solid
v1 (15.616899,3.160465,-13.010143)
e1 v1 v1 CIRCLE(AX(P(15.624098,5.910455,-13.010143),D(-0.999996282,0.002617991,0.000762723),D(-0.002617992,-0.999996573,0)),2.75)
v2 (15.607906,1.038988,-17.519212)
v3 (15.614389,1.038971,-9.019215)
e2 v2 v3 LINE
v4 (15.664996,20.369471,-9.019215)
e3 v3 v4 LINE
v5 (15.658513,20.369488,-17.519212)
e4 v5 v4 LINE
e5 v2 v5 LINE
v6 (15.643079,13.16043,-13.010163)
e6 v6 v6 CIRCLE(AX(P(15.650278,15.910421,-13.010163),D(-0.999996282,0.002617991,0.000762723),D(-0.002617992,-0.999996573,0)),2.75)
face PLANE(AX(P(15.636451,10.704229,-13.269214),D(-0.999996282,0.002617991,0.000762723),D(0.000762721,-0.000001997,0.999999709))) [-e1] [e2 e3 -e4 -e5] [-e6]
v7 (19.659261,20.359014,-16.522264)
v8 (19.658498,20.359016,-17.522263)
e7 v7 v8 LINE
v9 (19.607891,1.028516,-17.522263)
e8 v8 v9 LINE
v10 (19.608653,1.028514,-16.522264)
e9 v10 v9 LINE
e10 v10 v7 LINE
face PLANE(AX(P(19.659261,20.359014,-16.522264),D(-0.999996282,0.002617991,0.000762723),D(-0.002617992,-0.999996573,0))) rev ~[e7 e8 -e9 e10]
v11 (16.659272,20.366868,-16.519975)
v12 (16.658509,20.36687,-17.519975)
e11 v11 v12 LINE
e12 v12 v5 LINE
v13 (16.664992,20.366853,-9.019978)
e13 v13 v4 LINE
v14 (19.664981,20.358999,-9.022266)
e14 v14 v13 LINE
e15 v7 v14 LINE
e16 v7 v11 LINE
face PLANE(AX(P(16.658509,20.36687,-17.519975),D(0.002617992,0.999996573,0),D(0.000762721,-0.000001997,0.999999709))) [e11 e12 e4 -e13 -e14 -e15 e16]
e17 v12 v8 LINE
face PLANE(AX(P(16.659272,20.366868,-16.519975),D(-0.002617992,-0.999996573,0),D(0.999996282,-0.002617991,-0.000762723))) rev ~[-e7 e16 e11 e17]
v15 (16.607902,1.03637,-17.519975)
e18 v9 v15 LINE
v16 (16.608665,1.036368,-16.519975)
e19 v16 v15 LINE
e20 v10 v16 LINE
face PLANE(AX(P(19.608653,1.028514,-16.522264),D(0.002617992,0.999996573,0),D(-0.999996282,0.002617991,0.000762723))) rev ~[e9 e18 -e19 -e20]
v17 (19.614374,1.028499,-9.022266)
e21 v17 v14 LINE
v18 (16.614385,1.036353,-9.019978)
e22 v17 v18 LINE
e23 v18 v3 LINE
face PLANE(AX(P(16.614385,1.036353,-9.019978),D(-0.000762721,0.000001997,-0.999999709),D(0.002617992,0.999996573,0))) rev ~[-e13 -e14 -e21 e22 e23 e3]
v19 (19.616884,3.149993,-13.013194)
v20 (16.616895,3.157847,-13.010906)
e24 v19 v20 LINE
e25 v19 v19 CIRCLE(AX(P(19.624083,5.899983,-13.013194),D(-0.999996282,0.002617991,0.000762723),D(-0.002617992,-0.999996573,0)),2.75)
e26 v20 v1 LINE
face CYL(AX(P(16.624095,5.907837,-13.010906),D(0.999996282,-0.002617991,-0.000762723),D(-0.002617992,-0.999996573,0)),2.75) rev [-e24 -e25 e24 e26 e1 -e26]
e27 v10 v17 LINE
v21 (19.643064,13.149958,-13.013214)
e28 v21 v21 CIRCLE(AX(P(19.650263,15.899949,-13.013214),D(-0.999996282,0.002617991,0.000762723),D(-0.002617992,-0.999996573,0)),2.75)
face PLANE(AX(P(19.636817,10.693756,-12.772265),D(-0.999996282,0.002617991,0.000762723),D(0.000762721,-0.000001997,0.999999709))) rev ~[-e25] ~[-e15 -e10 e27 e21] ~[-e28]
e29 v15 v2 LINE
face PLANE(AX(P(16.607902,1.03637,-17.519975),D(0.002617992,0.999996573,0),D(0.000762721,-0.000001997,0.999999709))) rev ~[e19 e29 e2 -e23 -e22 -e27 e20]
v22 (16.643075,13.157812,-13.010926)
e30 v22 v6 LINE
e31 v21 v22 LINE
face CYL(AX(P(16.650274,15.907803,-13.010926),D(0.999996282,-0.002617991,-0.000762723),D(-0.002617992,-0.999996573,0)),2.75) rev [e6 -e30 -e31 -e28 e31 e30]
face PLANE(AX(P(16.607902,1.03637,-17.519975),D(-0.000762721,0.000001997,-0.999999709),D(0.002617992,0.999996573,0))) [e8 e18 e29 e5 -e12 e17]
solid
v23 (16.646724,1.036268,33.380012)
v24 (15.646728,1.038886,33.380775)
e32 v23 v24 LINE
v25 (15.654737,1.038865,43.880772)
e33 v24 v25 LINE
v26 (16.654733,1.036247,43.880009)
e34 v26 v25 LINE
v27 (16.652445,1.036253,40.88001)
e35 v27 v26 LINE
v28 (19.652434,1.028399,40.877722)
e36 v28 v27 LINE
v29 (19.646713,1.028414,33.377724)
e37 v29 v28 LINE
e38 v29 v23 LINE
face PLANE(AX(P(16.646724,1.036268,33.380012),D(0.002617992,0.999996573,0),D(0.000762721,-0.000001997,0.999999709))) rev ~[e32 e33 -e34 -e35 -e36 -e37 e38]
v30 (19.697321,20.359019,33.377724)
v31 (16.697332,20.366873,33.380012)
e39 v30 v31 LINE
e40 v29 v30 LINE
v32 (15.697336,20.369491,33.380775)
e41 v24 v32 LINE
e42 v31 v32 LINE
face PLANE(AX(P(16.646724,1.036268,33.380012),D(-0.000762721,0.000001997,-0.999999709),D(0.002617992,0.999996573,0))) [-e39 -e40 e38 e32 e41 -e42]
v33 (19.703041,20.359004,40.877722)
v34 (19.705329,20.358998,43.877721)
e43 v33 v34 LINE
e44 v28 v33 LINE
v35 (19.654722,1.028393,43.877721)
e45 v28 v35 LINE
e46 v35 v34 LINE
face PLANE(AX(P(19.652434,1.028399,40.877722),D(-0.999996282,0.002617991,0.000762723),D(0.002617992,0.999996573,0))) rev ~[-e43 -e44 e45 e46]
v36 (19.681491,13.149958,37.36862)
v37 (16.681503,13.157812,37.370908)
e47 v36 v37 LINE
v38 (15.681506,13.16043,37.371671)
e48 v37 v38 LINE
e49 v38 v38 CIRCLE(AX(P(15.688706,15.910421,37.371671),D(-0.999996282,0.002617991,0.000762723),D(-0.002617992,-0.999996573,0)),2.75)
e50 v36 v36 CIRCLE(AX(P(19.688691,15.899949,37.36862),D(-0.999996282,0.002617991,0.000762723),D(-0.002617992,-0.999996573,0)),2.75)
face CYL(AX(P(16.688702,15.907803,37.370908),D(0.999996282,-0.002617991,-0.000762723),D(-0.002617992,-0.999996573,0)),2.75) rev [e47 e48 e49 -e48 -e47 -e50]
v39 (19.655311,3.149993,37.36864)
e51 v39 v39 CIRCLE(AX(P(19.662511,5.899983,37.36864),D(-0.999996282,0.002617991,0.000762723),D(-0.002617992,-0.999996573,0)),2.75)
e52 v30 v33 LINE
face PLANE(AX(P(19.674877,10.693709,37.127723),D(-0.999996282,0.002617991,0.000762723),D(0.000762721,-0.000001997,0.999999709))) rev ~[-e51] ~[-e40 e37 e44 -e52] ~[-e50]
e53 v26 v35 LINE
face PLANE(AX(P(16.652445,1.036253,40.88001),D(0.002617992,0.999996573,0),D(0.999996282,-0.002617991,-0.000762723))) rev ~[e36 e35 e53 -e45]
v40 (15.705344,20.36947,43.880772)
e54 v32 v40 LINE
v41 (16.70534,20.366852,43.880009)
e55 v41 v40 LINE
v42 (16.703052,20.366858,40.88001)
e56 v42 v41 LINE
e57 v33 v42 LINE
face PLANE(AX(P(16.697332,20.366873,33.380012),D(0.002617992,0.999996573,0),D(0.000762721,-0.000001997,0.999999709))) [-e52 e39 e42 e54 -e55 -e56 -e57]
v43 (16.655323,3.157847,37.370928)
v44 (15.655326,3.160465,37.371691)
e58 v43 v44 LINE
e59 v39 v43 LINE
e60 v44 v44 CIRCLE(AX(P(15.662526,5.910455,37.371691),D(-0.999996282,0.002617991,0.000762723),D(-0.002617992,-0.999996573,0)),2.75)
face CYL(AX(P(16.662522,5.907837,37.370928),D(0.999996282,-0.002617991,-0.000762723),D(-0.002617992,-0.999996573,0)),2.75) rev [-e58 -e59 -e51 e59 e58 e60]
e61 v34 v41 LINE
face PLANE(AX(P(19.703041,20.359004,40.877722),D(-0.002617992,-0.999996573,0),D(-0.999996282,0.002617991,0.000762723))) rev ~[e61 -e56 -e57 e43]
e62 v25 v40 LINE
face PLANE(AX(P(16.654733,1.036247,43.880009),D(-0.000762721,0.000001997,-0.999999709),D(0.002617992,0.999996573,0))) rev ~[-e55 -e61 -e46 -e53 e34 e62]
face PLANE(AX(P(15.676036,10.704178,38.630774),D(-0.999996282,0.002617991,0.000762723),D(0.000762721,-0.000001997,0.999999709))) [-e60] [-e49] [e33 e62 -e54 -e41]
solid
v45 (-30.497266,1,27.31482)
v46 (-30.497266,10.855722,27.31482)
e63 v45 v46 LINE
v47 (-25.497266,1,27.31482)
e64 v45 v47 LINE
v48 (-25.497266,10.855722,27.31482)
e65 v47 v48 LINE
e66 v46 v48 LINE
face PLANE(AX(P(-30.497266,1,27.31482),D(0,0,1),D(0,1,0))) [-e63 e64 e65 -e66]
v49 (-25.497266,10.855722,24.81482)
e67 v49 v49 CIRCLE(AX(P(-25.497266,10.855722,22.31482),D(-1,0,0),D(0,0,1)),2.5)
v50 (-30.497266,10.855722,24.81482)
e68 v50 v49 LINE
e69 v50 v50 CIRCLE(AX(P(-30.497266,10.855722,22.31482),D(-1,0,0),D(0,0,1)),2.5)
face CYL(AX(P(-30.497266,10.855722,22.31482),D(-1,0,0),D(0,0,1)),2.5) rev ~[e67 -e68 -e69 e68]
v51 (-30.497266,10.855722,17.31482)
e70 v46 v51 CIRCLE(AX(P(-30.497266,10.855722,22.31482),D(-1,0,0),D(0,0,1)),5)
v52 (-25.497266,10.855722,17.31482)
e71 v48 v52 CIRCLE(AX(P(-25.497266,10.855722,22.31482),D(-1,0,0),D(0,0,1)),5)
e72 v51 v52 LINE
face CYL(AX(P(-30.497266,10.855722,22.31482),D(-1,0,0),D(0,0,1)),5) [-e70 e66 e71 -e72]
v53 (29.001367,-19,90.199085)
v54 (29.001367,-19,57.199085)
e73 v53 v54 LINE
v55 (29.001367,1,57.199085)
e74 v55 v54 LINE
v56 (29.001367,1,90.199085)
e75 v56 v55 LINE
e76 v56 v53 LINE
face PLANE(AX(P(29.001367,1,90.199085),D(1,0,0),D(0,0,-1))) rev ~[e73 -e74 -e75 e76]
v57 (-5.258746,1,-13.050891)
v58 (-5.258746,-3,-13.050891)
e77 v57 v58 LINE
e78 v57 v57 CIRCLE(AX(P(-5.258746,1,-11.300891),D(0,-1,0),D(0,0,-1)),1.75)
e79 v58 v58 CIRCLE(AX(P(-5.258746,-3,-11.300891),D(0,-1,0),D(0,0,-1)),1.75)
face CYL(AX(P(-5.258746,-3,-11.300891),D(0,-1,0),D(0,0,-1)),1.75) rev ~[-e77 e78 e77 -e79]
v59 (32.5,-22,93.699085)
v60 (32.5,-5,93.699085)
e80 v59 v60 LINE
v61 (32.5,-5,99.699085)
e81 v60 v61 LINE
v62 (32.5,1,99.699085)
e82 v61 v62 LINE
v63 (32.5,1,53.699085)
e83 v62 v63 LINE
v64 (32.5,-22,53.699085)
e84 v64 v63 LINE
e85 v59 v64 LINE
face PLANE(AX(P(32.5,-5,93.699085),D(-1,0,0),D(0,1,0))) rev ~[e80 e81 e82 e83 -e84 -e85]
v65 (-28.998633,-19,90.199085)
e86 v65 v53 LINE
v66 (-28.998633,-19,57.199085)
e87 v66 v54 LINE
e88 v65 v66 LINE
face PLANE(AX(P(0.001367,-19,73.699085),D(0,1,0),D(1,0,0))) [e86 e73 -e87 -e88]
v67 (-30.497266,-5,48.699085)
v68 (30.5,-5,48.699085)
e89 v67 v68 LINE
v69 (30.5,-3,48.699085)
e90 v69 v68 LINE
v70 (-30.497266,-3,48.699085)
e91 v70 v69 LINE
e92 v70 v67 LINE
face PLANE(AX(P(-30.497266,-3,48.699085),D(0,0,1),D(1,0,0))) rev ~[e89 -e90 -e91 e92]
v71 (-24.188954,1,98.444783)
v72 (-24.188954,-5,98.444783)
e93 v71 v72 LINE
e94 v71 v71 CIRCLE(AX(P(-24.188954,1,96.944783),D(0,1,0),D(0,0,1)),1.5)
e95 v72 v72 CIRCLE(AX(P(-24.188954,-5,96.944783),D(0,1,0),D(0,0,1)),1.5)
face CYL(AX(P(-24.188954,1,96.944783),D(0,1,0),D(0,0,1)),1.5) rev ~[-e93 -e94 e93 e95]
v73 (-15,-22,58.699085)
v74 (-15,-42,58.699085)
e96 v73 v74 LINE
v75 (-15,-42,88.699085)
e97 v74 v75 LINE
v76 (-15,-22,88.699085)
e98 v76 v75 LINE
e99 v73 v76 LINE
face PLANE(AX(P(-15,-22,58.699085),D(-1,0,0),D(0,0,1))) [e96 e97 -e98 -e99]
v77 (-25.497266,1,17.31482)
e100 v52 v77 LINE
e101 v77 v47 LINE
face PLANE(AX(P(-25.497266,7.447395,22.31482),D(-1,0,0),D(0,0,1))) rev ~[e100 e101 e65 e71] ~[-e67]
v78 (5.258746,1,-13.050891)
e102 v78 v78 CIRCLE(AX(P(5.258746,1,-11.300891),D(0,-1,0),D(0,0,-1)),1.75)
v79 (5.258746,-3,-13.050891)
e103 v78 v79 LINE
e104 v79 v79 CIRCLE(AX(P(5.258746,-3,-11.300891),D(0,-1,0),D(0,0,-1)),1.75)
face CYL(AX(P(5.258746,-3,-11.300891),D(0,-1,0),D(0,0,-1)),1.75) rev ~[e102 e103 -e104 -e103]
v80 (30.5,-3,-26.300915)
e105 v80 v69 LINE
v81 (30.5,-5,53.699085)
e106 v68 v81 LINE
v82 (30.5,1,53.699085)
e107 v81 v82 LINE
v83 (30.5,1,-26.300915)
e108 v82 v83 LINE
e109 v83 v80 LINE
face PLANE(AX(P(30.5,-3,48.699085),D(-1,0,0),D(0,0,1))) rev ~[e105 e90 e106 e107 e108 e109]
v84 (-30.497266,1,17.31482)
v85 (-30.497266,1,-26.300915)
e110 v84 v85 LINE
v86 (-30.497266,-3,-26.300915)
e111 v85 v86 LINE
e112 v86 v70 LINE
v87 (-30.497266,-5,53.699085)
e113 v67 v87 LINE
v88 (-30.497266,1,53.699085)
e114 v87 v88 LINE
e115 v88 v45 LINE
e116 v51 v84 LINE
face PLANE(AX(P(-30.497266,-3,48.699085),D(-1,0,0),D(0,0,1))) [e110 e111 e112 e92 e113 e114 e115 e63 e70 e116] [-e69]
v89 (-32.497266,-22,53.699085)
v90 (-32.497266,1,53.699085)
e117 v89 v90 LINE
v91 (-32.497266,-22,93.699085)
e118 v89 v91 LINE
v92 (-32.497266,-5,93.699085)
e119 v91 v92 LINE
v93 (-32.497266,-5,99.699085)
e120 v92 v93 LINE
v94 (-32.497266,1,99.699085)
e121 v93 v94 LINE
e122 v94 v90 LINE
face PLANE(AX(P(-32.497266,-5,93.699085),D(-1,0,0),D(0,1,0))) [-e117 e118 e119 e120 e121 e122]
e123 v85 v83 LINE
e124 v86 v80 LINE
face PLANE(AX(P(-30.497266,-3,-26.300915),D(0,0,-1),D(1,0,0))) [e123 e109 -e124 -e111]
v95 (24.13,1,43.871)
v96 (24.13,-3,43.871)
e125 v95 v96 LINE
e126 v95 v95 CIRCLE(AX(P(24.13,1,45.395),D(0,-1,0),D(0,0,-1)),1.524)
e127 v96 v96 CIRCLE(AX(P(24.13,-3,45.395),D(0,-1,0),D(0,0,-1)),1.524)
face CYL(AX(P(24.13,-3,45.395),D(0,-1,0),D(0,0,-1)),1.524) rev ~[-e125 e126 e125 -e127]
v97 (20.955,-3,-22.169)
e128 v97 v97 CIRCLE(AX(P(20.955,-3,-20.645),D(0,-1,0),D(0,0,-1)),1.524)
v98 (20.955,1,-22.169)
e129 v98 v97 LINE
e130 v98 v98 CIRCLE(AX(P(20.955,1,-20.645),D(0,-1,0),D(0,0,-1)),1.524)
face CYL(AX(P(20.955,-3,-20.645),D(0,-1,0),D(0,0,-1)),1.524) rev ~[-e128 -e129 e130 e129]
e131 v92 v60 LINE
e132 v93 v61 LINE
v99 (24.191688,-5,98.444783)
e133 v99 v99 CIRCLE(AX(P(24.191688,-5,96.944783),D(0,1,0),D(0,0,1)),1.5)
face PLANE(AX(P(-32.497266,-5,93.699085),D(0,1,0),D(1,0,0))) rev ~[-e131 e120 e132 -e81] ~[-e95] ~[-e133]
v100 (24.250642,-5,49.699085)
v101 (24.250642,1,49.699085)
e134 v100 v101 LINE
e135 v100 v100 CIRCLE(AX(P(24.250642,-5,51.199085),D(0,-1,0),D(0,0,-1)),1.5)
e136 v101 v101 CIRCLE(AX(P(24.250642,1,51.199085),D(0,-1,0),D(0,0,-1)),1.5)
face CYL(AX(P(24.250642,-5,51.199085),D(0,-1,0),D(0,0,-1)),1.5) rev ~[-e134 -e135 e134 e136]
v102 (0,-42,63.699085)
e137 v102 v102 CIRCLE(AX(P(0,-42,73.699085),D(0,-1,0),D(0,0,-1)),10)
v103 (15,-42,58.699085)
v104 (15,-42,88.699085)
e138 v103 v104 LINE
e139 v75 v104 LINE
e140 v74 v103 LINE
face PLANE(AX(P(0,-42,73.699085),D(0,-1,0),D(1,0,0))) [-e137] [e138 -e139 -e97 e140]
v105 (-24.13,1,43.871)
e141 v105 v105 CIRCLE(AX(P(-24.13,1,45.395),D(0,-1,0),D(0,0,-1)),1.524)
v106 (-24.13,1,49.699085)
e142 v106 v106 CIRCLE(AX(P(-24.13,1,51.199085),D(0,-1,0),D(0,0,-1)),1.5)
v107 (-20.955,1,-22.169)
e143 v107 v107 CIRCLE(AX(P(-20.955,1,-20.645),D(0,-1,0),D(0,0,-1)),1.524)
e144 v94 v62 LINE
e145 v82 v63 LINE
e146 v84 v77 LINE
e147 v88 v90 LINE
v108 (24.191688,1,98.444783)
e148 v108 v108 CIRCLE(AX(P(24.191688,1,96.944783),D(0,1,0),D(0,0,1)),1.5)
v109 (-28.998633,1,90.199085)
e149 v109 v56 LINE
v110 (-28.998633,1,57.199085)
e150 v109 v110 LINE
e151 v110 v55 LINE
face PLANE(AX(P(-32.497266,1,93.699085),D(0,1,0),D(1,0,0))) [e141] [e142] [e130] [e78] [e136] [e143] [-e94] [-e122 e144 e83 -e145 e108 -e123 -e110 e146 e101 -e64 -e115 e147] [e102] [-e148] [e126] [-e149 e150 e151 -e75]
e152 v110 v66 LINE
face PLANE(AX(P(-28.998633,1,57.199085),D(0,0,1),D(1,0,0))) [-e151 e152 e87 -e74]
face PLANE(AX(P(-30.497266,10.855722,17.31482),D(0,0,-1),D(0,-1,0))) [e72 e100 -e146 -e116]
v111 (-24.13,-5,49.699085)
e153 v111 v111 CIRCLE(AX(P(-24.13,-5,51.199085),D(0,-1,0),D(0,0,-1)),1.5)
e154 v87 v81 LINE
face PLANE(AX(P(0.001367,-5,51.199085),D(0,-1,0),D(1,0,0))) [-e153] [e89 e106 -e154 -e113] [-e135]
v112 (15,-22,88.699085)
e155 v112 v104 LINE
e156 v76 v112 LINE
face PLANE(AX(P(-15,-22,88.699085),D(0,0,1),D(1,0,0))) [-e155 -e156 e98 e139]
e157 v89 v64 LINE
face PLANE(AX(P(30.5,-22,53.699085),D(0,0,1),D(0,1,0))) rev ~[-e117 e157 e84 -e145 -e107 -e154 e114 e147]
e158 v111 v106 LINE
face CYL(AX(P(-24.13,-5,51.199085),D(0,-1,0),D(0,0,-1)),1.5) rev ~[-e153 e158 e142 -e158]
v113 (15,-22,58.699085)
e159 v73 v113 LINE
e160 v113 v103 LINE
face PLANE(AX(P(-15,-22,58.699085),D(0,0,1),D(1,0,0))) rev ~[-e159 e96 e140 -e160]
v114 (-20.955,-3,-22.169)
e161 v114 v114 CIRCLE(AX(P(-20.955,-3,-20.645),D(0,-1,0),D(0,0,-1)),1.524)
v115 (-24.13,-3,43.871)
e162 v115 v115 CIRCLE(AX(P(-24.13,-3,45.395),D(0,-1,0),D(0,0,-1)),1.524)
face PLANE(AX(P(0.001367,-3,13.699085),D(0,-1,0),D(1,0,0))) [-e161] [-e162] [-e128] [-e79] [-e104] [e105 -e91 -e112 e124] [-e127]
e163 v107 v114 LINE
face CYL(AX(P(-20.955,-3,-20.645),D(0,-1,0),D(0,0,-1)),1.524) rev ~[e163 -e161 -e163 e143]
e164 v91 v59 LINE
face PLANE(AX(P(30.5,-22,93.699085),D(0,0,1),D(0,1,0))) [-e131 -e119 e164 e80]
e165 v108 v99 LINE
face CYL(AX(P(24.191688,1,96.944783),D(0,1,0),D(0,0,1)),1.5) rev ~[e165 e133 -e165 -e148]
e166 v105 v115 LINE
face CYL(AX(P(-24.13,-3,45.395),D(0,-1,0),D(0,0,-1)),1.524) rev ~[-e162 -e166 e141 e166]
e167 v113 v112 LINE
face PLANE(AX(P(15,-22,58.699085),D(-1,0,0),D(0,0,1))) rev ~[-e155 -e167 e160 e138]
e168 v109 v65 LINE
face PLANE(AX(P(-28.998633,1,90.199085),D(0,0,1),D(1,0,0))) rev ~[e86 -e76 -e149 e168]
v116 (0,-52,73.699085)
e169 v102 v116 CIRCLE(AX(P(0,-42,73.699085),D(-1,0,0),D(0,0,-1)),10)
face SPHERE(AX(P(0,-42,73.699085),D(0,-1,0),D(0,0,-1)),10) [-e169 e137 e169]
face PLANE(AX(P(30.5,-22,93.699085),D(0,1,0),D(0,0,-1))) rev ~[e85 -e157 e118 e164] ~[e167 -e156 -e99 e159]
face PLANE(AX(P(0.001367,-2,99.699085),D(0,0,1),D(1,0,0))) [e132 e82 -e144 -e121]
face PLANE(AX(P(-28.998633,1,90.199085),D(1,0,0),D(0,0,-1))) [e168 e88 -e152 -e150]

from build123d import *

# Parameters (mm, degrees)
SKETCH_1_W               = 60.99726579
SKETCH_1_H               = 80
EXTRUDE_1_DEPTH          = 1
SKETCH_2_R               = 1.524
CUT_EXTRUDE_1_DEPTH      = 1
SKETCH_3_W               = 1
SKETCH_3_H               = 21.992162459
EXTRUDE_2_DEPTH          = 22
SKETCH_7_W               = 7.5
SKETCH_7_H               = 19.330567091
SKETCH_7_R               = 2.75
EXTRUDE_3_DEPTH          = 3
SKETCH_7_H_2             = 19.330671724
EXTRUDE_3_2_DEPTH        = 3
SKETCH_8_R               = 2.5
EXTRUDE_4_DEPTH          = 5
SKETCH_12_W              = 2
SKETCH_12_H              = 21.992162459
EXTRUDE_5_DEPTH          = 22
CUT_EXTRUDE_3_DEPTH      = 72.341536493
CUT_EXTRUDE_3_DEPTH_BACK = 15
SKETCH_9_R               = 1.75
SKETCH_14_W              = 17.99726579
SKETCH_14_H              = 10.99608123
EXTRUDE_6_DEPTH          = 3
SKETCH_15_R              = 1.75
CUT_EXTRUDE_4_DEPTH      = 67.029179397
SKETCH_18_W              = 125.682596232
SKETCH_18_H              = 131.027051286
CUT_EXTRUDE_6_DEPTH      = 66.55792676
EXTRUDE_START            = 3
SKETCH_19_W              = 60.99726579
SKETCH_19_H              = 80
SKETCH_19_R              = 1.524
SKETCH_19_R_2            = 1.75
EXTRUDE_7_DEPTH          = 3
SKETCH_20_W              = 60.99726579
SKETCH_20_H              = 40
EXTRUDE_8_DEPTH          = 23
SKETCH_21_W              = 58
SKETCH_21_H              = 33
CUT_EXTRUDE_7_DEPTH      = 20
SKETCH_26_W              = 30
SKETCH_26_H              = 30
EXTRUDE_9_DEPTH          = 20
EXTRUDE_10_DEPTH         = 3
SKETCH_28_W              = 10.5
SKETCH_28_H              = 19.330671724
SKETCH_28_R              = 2.75
EXTRUDE_11_DEPTH         = 1
EXTRUDE_12_DEPTH         = 1
SKETCH_30_W              = 8.5
SKETCH_30_H              = 19.330567091
SKETCH_30_R              = 2.75
EXTRUDE_13_DEPTH         = 1
SKETCH_31_W              = 60.99726579
SKETCH_31_H              = 5
SKETCH_31_R              = 1.5
EXTRUDE_14_DEPTH         = 2
SKETCH_33_R              = 1.5
CUT_EXTRUDE_8_DEPTH      = 110.173112919
SKETCH_35_W              = 40
SKETCH_35_H              = 23
EXTRUDE_15_DEPTH         = 2
SKETCH_36_W              = 40
SKETCH_36_H              = 23
EXTRUDE_16_DEPTH         = 2
SKETCH_38_W              = 64.99726579
SKETCH_38_H              = 6
EXTRUDE_17_DEPTH         = 6
SKETCH_39_R              = 1.5
CUT_EXTRUDE_13_DEPTH     = 6


with BuildPart() as part:
    # 스케치1 → 보스-돌출1 (new body)
    with BuildSketch(Plane(origin=(0, 0, 0), x_dir=(1, 0, 0), z_dir=(0, 1, 0))):
        with Locations((0.001367105, -13.699085291)):
            Rectangle(SKETCH_1_W, SKETCH_1_H)
    extrude(amount=EXTRUDE_1_DEPTH)

    # 스케치2 → 컷-돌출1 (cut)
    with BuildSketch(Plane.XZ):
        with Locations(Location((-24.13, 45.395, 0), (0, 0, 270))):
            Circle(SKETCH_2_R)
        with Locations(Location((24.13, 45.395, 0), (0, 0, 270))):
            Circle(SKETCH_2_R)
        with Locations(Location((-20.955, -20.645, 0), (0, 0, 270))):
            Circle(SKETCH_2_R)
        with Locations(Location((20.955, -20.645, 0), (0, 0, 270))):
            Circle(SKETCH_2_R)
    extrude(amount=-CUT_EXTRUDE_1_DEPTH, mode=Mode.SUBTRACT)

    # 스케치3 → 보스-돌출2 (add)
    with BuildSketch(Plane.XZ):
        with Locations((-11.49726579, -15.30483348)):
            Rectangle(SKETCH_3_W, SKETCH_3_H)
        with Locations((11.5, -15.30483348)):
            Rectangle(SKETCH_3_W, SKETCH_3_H)
    extrude(amount=EXTRUDE_2_DEPTH)

    # 스케치8 → 보스-돌출4 (add)
    with BuildSketch(Plane.ZY.offset(30.49726579)):
        with BuildLine():
            Line((17.314820169, 10.855722027), (17.314820169, 1))
            Line((17.314820169, 1), (27.314820169, 1))
            Line((27.314820169, 1), (27.314820169, 10.855722027))
            ThreePointArc((27.314820169, 10.855722027), (22.314820169, 15.855722027), (17.314820169, 10.855722027))
        make_face()
        with Locations((22.314820169, 10.855722027)):
            Circle(SKETCH_8_R, mode=Mode.SUBTRACT)
    extrude(amount=-EXTRUDE_4_DEPTH)

    # 스케치12 → 보스-돌출5 (add)
    with BuildSketch(Plane.XZ):
        with Locations((-9.99726579, -15.30483348)):
            Rectangle(SKETCH_12_W, SKETCH_12_H)
        with Locations((10, -15.30483348)):
            Rectangle(SKETCH_12_W, SKETCH_12_H)
    extrude(amount=EXTRUDE_5_DEPTH)

    # 스케치9 → 컷-돌출3 (cut, two sides: drawn at the far end of the back side and taken through both)
    with BuildSketch(Plane.ZY.offset(-11).offset(-CUT_EXTRUDE_3_DEPTH_BACK)):
        with Locations(Location((-22.606276953, -2.5, 0), (0, 0, 180))):
            Circle(SKETCH_9_R)
        with Locations(Location((-22.606276953, -19.5, 0), (0, 0, 180))):
            Circle(SKETCH_9_R)
    extrude(amount=CUT_EXTRUDE_3_DEPTH + CUT_EXTRUDE_3_DEPTH_BACK, mode=Mode.SUBTRACT)

    # 스케치14 → 보스-돌출6 (add)
    with BuildSketch(Plane.XZ):
        with Locations((0.001367105, -9.806792865)):
            Rectangle(SKETCH_14_W, SKETCH_14_H)
    extrude(amount=EXTRUDE_6_DEPTH)

    # 스케치15 → 컷-돌출4 (cut, through all)
    with BuildSketch(Plane.XZ.offset(3)):
        with Locations(Location((-5.258745872, -11.300890987, 0), (0, 0, 270))):
            Circle(SKETCH_15_R)
        with Locations(Location((5.258745872, -11.300890987, 0), (0, 0, 270))):
            Circle(SKETCH_15_R)
    extrude(amount=-CUT_EXTRUDE_4_DEPTH, mode=Mode.SUBTRACT)

    # 스케치18 → 컷-돌출6 (cut, through all)
    with BuildSketch(Plane.XZ):
        with Locations((10.227533259, 5.024212254)):
            Rectangle(SKETCH_18_W, SKETCH_18_H)
    extrude(amount=CUT_EXTRUDE_6_DEPTH, mode=Mode.SUBTRACT)

    # 스케치19 → 보스-돌출7 (add)
    with BuildSketch(Plane.XZ.offset(EXTRUDE_START)):
        with Locations((0.001367105, 13.699085291)):
            Rectangle(SKETCH_19_W, SKETCH_19_H)
        with Locations(Location((-24.13, 45.395, 0), (0, 0, 270))):
            Circle(SKETCH_19_R, mode=Mode.SUBTRACT)
        with Locations(Location((24.13, 45.395, 0), (0, 0, 270))):
            Circle(SKETCH_19_R, mode=Mode.SUBTRACT)
        with Locations(Location((-5.258745872, -11.300890987, 0), (0, 0, 270))):
            Circle(SKETCH_19_R_2, mode=Mode.SUBTRACT)
        with Locations(Location((5.258745872, -11.300890987, 0), (0, 0, 270))):
            Circle(SKETCH_19_R_2, mode=Mode.SUBTRACT)
        with Locations(Location((-20.955, -20.645, 0), (0, 0, 270))):
            Circle(SKETCH_19_R, mode=Mode.SUBTRACT)
        with Locations(Location((20.955, -20.645, 0), (0, 0, 270))):
            Circle(SKETCH_19_R, mode=Mode.SUBTRACT)
    extrude(amount=-EXTRUDE_7_DEPTH)

    # 스케치20 → 보스-돌출8 (add)
    with BuildSketch(Plane(origin=(0, 1, 0), x_dir=(1, 0, 0), z_dir=(0, 1, 0))):
        with Locations((0.001367105, -73.699085291)):
            Rectangle(SKETCH_20_W, SKETCH_20_H)
    extrude(amount=-EXTRUDE_8_DEPTH)

    # 스케치21 → 컷-돌출7 (cut)
    with BuildSketch(Plane(origin=(0, 1, 0), x_dir=(1, 0, 0), z_dir=(0, 1, 0))):
        with Locations((0.001367105, -73.699085291)):
            Rectangle(SKETCH_21_W, SKETCH_21_H)
    extrude(amount=-CUT_EXTRUDE_7_DEPTH, mode=Mode.SUBTRACT)



with BuildPart() as body_2:
    # 스케치7 → 보스-돌출3 (new body)
    with BuildSketch(Plane(origin=(19.618416861, -0.051361028, -0.014963481), x_dir=(0.0007627207868309801, -1.996803493320823e-06, 0.9999997091264647), z_dir=(-0.9999962821814526, 0.002617990887417953, 0.0007627234006428938))):
        with Locations((-12.757304863, 10.745128864)):
            Rectangle(SKETCH_7_W, SKETCH_7_H)
        with Locations(Location((-12.998254061, 15.951338675, 0), (0, 0, 270))):
            Circle(SKETCH_7_R, mode=Mode.SUBTRACT)
        with Locations(Location((-12.998234093, 5.951338675, 0), (0, 0, 270))):
            Circle(SKETCH_7_R, mode=Mode.SUBTRACT)
    extrude(amount=EXTRUDE_3_DEPTH)

    # 스케치29 → 보스-돌출12 (add)
    with BuildSketch(Plane(origin=(-0.012590465, 3.2962e-05, -16.507300061), x_dir=(-0.9999997091284585, -1.523003974434168e-09, 0.0007627207868294601), z_dir=(-0.0007627207868309806, 1.996803493141394e-06, -0.9999997091264647))):
        Polygon((-19.671856873, 20.358981407), (-19.621249595, 1.02848056), (-16.621259875, 1.036334538), (-16.671867153, 20.366835384), align=None)
    extrude(amount=EXTRUDE_12_DEPTH)

    # 스케치30 → 보스-돌출13 (add)
    with BuildSketch(Plane(origin=(16.618428015, -0.043507055, -0.012675311), x_dir=(0.0007627207868311324, -1.996803493321271e-06, 0.9999997091264647), z_dir=(-0.9999962821814526, 0.0026179908874180216, 0.0007627234006430462))):
        with Locations((-13.257304863, 10.745128864)):
            Rectangle(SKETCH_30_W, SKETCH_30_H)
        with Locations(Location((-12.998254061, 15.951338675, 0), (0, 0, 270))):
            Circle(SKETCH_30_R, mode=Mode.SUBTRACT)
        with Locations(Location((-12.998234093, 5.951338675, 0), (0, 0, 270))):
            Circle(SKETCH_30_R, mode=Mode.SUBTRACT)
    extrude(amount=EXTRUDE_13_DEPTH)


with BuildPart() as body_3:
    # 스케치7 → Extrude 3 2 (new body)
    with BuildSketch(Plane(origin=(19.618416861, -0.051361028, -0.014963481), x_dir=(0.0007627207868309801, -1.996803493320823e-06, 0.9999997091264647), z_dir=(-0.9999962821814526, 0.002617990887417953, 0.0007627234006428938))):
        with Locations((37.142697347, 10.74518118)):
            Rectangle(SKETCH_7_W, SKETCH_7_H_2)
        with Locations(Location((37.383594441, 15.951439278, 0), (0, 0, 270))):
            Circle(SKETCH_7_R, mode=Mode.SUBTRACT)
        with Locations(Location((37.383614409, 5.951439278, 0), (0, 0, 270))):
            Circle(SKETCH_7_R, mode=Mode.SUBTRACT)
    extrude(amount=EXTRUDE_3_2_DEPTH)

    # 스케치27 → 보스-돌출10 (add)
    with BuildSketch(Plane(origin=(0.03118971, -8.1655e-05, 40.892685452), x_dir=(0.9999997091284585, 1.5230039745710364e-09, -0.0007627207868294599), z_dir=(0.0007627207868309804, -1.9968034933208416e-06, 0.9999997091264647))):
        Polygon((19.621249595, 1.02848056), (19.671857146, 20.359086039), (16.671867427, 20.366940016), (16.621259875, 1.036334538), align=None)
    extrude(amount=EXTRUDE_10_DEPTH)

    # 스케치28 → 보스-돌출11 (add)
    with BuildSketch(Plane(origin=(16.618428015, -0.043507055, -0.012675311), x_dir=(0.00076272078683067, -1.996803493320029e-06, 0.9999997091264647), z_dir=(-0.9999962821814526, 0.002617990887417981, 0.0007627234006425838))):
        with Locations((38.642697347, 10.74518118)):
            Rectangle(SKETCH_28_W, SKETCH_28_H)
        with Locations(Location((37.383594441, 15.951439278, 0), (0, 0, 270))):
            Circle(SKETCH_28_R, mode=Mode.SUBTRACT)
        with Locations(Location((37.383614409, 5.951439278, 0), (0, 0, 270))):
            Circle(SKETCH_28_R, mode=Mode.SUBTRACT)
    extrude(amount=EXTRUDE_11_DEPTH)


with BuildPart() as body_4:
    # 스케치24 → 회전1 (revolve)
    with BuildSketch(Plane(origin=(0, 0, 0), x_dir=(0, 0, -1), z_dir=(1, 0, 0))):
        with BuildLine():
            Line((-73.699085291, -52), (-73.699085291, -42))
            Line((-73.699085291, -42), (-63.699085291, -42))
            ThreePointArc((-63.699085291, -42), (-66.628017479, -49.071067812), (-73.699085291, -52))
        make_face()
    revolve(axis=Axis((0, -22, 73.699085291), (0, -1, 0)))


with BuildPart() as part_1:
    add(part.part)

    add(body_4.part)  # 보스-돌출9 merges body 4
    # 스케치26 → 보스-돌출9 (add)
    with BuildSketch(Plane.XZ.offset(22)):
        with Locations((0, 73.699085291)):
            Rectangle(SKETCH_26_W, SKETCH_26_H)
    extrude(amount=EXTRUDE_9_DEPTH)

    # 스케치31 → 보스-돌출14 (add)
    with BuildSketch(Plane.XZ.offset(3)):
        with Locations((0.001367105, 51.199085291)):
            Rectangle(SKETCH_31_W, SKETCH_31_H)
        with Locations(Location((-24.13, 51.199085291, 0), (0, 0, 270))):
            Circle(SKETCH_31_R, mode=Mode.SUBTRACT)
        with Locations(Location((24.250641605, 51.199085291, 0), (0, 0, 270))):
            Circle(SKETCH_31_R, mode=Mode.SUBTRACT)
    extrude(amount=EXTRUDE_14_DEPTH)

    # 스케치33 → 컷-돌출8 (cut, through all)
    with BuildSketch(Plane.XZ.offset(5)):
        with Locations(Location((24.250641605, 51.199085291, 0), (0, 0, 270))):
            Circle(SKETCH_33_R)
        with Locations(Location((-24.13, 51.199085291, 0), (0, 0, 270))):
            Circle(SKETCH_33_R)
    extrude(amount=-CUT_EXTRUDE_8_DEPTH, mode=Mode.SUBTRACT)

    # 스케치35 → 보스-돌출15 (add)
    with BuildSketch(Plane.ZY.offset(30.49726579)):
        with Locations((73.699085291, -10.5)):
            Rectangle(SKETCH_35_W, SKETCH_35_H)
    extrude(amount=EXTRUDE_15_DEPTH)

    # 스케치36 → 보스-돌출16 (add)
    with BuildSketch(Plane(origin=(30.5, 0, 0), x_dir=(0, 0, -1), z_dir=(1, 0, 0))):
        with Locations((-73.699085291, -10.5)):
            Rectangle(SKETCH_36_W, SKETCH_36_H)
    extrude(amount=EXTRUDE_16_DEPTH)

    # 스케치38 → 보스-돌출17 (add)
    with BuildSketch(Plane.XY.offset(93.699085291)):
        with Locations((0.001367105, -2)):
            Rectangle(SKETCH_38_W, SKETCH_38_H)
    extrude(amount=EXTRUDE_17_DEPTH)

    # 스케치39 → 컷-돌출13 (cut)
    with BuildSketch(Plane(origin=(0, 1, 0), x_dir=(1, 0, 0), z_dir=(0, 1, 0))):
        with Locations(Location((-24.188953697, -96.94478326, 0), (0, 0, 270))):
            Circle(SKETCH_39_R)
        with Locations(Location((24.191687908, -96.94478326, 0), (0, 0, 270))):
            Circle(SKETCH_39_R)
    extrude(amount=-CUT_EXTRUDE_13_DEPTH, mode=Mode.SUBTRACT)


solid = Compound([body_2.part, body_3.part, part_1.part])
